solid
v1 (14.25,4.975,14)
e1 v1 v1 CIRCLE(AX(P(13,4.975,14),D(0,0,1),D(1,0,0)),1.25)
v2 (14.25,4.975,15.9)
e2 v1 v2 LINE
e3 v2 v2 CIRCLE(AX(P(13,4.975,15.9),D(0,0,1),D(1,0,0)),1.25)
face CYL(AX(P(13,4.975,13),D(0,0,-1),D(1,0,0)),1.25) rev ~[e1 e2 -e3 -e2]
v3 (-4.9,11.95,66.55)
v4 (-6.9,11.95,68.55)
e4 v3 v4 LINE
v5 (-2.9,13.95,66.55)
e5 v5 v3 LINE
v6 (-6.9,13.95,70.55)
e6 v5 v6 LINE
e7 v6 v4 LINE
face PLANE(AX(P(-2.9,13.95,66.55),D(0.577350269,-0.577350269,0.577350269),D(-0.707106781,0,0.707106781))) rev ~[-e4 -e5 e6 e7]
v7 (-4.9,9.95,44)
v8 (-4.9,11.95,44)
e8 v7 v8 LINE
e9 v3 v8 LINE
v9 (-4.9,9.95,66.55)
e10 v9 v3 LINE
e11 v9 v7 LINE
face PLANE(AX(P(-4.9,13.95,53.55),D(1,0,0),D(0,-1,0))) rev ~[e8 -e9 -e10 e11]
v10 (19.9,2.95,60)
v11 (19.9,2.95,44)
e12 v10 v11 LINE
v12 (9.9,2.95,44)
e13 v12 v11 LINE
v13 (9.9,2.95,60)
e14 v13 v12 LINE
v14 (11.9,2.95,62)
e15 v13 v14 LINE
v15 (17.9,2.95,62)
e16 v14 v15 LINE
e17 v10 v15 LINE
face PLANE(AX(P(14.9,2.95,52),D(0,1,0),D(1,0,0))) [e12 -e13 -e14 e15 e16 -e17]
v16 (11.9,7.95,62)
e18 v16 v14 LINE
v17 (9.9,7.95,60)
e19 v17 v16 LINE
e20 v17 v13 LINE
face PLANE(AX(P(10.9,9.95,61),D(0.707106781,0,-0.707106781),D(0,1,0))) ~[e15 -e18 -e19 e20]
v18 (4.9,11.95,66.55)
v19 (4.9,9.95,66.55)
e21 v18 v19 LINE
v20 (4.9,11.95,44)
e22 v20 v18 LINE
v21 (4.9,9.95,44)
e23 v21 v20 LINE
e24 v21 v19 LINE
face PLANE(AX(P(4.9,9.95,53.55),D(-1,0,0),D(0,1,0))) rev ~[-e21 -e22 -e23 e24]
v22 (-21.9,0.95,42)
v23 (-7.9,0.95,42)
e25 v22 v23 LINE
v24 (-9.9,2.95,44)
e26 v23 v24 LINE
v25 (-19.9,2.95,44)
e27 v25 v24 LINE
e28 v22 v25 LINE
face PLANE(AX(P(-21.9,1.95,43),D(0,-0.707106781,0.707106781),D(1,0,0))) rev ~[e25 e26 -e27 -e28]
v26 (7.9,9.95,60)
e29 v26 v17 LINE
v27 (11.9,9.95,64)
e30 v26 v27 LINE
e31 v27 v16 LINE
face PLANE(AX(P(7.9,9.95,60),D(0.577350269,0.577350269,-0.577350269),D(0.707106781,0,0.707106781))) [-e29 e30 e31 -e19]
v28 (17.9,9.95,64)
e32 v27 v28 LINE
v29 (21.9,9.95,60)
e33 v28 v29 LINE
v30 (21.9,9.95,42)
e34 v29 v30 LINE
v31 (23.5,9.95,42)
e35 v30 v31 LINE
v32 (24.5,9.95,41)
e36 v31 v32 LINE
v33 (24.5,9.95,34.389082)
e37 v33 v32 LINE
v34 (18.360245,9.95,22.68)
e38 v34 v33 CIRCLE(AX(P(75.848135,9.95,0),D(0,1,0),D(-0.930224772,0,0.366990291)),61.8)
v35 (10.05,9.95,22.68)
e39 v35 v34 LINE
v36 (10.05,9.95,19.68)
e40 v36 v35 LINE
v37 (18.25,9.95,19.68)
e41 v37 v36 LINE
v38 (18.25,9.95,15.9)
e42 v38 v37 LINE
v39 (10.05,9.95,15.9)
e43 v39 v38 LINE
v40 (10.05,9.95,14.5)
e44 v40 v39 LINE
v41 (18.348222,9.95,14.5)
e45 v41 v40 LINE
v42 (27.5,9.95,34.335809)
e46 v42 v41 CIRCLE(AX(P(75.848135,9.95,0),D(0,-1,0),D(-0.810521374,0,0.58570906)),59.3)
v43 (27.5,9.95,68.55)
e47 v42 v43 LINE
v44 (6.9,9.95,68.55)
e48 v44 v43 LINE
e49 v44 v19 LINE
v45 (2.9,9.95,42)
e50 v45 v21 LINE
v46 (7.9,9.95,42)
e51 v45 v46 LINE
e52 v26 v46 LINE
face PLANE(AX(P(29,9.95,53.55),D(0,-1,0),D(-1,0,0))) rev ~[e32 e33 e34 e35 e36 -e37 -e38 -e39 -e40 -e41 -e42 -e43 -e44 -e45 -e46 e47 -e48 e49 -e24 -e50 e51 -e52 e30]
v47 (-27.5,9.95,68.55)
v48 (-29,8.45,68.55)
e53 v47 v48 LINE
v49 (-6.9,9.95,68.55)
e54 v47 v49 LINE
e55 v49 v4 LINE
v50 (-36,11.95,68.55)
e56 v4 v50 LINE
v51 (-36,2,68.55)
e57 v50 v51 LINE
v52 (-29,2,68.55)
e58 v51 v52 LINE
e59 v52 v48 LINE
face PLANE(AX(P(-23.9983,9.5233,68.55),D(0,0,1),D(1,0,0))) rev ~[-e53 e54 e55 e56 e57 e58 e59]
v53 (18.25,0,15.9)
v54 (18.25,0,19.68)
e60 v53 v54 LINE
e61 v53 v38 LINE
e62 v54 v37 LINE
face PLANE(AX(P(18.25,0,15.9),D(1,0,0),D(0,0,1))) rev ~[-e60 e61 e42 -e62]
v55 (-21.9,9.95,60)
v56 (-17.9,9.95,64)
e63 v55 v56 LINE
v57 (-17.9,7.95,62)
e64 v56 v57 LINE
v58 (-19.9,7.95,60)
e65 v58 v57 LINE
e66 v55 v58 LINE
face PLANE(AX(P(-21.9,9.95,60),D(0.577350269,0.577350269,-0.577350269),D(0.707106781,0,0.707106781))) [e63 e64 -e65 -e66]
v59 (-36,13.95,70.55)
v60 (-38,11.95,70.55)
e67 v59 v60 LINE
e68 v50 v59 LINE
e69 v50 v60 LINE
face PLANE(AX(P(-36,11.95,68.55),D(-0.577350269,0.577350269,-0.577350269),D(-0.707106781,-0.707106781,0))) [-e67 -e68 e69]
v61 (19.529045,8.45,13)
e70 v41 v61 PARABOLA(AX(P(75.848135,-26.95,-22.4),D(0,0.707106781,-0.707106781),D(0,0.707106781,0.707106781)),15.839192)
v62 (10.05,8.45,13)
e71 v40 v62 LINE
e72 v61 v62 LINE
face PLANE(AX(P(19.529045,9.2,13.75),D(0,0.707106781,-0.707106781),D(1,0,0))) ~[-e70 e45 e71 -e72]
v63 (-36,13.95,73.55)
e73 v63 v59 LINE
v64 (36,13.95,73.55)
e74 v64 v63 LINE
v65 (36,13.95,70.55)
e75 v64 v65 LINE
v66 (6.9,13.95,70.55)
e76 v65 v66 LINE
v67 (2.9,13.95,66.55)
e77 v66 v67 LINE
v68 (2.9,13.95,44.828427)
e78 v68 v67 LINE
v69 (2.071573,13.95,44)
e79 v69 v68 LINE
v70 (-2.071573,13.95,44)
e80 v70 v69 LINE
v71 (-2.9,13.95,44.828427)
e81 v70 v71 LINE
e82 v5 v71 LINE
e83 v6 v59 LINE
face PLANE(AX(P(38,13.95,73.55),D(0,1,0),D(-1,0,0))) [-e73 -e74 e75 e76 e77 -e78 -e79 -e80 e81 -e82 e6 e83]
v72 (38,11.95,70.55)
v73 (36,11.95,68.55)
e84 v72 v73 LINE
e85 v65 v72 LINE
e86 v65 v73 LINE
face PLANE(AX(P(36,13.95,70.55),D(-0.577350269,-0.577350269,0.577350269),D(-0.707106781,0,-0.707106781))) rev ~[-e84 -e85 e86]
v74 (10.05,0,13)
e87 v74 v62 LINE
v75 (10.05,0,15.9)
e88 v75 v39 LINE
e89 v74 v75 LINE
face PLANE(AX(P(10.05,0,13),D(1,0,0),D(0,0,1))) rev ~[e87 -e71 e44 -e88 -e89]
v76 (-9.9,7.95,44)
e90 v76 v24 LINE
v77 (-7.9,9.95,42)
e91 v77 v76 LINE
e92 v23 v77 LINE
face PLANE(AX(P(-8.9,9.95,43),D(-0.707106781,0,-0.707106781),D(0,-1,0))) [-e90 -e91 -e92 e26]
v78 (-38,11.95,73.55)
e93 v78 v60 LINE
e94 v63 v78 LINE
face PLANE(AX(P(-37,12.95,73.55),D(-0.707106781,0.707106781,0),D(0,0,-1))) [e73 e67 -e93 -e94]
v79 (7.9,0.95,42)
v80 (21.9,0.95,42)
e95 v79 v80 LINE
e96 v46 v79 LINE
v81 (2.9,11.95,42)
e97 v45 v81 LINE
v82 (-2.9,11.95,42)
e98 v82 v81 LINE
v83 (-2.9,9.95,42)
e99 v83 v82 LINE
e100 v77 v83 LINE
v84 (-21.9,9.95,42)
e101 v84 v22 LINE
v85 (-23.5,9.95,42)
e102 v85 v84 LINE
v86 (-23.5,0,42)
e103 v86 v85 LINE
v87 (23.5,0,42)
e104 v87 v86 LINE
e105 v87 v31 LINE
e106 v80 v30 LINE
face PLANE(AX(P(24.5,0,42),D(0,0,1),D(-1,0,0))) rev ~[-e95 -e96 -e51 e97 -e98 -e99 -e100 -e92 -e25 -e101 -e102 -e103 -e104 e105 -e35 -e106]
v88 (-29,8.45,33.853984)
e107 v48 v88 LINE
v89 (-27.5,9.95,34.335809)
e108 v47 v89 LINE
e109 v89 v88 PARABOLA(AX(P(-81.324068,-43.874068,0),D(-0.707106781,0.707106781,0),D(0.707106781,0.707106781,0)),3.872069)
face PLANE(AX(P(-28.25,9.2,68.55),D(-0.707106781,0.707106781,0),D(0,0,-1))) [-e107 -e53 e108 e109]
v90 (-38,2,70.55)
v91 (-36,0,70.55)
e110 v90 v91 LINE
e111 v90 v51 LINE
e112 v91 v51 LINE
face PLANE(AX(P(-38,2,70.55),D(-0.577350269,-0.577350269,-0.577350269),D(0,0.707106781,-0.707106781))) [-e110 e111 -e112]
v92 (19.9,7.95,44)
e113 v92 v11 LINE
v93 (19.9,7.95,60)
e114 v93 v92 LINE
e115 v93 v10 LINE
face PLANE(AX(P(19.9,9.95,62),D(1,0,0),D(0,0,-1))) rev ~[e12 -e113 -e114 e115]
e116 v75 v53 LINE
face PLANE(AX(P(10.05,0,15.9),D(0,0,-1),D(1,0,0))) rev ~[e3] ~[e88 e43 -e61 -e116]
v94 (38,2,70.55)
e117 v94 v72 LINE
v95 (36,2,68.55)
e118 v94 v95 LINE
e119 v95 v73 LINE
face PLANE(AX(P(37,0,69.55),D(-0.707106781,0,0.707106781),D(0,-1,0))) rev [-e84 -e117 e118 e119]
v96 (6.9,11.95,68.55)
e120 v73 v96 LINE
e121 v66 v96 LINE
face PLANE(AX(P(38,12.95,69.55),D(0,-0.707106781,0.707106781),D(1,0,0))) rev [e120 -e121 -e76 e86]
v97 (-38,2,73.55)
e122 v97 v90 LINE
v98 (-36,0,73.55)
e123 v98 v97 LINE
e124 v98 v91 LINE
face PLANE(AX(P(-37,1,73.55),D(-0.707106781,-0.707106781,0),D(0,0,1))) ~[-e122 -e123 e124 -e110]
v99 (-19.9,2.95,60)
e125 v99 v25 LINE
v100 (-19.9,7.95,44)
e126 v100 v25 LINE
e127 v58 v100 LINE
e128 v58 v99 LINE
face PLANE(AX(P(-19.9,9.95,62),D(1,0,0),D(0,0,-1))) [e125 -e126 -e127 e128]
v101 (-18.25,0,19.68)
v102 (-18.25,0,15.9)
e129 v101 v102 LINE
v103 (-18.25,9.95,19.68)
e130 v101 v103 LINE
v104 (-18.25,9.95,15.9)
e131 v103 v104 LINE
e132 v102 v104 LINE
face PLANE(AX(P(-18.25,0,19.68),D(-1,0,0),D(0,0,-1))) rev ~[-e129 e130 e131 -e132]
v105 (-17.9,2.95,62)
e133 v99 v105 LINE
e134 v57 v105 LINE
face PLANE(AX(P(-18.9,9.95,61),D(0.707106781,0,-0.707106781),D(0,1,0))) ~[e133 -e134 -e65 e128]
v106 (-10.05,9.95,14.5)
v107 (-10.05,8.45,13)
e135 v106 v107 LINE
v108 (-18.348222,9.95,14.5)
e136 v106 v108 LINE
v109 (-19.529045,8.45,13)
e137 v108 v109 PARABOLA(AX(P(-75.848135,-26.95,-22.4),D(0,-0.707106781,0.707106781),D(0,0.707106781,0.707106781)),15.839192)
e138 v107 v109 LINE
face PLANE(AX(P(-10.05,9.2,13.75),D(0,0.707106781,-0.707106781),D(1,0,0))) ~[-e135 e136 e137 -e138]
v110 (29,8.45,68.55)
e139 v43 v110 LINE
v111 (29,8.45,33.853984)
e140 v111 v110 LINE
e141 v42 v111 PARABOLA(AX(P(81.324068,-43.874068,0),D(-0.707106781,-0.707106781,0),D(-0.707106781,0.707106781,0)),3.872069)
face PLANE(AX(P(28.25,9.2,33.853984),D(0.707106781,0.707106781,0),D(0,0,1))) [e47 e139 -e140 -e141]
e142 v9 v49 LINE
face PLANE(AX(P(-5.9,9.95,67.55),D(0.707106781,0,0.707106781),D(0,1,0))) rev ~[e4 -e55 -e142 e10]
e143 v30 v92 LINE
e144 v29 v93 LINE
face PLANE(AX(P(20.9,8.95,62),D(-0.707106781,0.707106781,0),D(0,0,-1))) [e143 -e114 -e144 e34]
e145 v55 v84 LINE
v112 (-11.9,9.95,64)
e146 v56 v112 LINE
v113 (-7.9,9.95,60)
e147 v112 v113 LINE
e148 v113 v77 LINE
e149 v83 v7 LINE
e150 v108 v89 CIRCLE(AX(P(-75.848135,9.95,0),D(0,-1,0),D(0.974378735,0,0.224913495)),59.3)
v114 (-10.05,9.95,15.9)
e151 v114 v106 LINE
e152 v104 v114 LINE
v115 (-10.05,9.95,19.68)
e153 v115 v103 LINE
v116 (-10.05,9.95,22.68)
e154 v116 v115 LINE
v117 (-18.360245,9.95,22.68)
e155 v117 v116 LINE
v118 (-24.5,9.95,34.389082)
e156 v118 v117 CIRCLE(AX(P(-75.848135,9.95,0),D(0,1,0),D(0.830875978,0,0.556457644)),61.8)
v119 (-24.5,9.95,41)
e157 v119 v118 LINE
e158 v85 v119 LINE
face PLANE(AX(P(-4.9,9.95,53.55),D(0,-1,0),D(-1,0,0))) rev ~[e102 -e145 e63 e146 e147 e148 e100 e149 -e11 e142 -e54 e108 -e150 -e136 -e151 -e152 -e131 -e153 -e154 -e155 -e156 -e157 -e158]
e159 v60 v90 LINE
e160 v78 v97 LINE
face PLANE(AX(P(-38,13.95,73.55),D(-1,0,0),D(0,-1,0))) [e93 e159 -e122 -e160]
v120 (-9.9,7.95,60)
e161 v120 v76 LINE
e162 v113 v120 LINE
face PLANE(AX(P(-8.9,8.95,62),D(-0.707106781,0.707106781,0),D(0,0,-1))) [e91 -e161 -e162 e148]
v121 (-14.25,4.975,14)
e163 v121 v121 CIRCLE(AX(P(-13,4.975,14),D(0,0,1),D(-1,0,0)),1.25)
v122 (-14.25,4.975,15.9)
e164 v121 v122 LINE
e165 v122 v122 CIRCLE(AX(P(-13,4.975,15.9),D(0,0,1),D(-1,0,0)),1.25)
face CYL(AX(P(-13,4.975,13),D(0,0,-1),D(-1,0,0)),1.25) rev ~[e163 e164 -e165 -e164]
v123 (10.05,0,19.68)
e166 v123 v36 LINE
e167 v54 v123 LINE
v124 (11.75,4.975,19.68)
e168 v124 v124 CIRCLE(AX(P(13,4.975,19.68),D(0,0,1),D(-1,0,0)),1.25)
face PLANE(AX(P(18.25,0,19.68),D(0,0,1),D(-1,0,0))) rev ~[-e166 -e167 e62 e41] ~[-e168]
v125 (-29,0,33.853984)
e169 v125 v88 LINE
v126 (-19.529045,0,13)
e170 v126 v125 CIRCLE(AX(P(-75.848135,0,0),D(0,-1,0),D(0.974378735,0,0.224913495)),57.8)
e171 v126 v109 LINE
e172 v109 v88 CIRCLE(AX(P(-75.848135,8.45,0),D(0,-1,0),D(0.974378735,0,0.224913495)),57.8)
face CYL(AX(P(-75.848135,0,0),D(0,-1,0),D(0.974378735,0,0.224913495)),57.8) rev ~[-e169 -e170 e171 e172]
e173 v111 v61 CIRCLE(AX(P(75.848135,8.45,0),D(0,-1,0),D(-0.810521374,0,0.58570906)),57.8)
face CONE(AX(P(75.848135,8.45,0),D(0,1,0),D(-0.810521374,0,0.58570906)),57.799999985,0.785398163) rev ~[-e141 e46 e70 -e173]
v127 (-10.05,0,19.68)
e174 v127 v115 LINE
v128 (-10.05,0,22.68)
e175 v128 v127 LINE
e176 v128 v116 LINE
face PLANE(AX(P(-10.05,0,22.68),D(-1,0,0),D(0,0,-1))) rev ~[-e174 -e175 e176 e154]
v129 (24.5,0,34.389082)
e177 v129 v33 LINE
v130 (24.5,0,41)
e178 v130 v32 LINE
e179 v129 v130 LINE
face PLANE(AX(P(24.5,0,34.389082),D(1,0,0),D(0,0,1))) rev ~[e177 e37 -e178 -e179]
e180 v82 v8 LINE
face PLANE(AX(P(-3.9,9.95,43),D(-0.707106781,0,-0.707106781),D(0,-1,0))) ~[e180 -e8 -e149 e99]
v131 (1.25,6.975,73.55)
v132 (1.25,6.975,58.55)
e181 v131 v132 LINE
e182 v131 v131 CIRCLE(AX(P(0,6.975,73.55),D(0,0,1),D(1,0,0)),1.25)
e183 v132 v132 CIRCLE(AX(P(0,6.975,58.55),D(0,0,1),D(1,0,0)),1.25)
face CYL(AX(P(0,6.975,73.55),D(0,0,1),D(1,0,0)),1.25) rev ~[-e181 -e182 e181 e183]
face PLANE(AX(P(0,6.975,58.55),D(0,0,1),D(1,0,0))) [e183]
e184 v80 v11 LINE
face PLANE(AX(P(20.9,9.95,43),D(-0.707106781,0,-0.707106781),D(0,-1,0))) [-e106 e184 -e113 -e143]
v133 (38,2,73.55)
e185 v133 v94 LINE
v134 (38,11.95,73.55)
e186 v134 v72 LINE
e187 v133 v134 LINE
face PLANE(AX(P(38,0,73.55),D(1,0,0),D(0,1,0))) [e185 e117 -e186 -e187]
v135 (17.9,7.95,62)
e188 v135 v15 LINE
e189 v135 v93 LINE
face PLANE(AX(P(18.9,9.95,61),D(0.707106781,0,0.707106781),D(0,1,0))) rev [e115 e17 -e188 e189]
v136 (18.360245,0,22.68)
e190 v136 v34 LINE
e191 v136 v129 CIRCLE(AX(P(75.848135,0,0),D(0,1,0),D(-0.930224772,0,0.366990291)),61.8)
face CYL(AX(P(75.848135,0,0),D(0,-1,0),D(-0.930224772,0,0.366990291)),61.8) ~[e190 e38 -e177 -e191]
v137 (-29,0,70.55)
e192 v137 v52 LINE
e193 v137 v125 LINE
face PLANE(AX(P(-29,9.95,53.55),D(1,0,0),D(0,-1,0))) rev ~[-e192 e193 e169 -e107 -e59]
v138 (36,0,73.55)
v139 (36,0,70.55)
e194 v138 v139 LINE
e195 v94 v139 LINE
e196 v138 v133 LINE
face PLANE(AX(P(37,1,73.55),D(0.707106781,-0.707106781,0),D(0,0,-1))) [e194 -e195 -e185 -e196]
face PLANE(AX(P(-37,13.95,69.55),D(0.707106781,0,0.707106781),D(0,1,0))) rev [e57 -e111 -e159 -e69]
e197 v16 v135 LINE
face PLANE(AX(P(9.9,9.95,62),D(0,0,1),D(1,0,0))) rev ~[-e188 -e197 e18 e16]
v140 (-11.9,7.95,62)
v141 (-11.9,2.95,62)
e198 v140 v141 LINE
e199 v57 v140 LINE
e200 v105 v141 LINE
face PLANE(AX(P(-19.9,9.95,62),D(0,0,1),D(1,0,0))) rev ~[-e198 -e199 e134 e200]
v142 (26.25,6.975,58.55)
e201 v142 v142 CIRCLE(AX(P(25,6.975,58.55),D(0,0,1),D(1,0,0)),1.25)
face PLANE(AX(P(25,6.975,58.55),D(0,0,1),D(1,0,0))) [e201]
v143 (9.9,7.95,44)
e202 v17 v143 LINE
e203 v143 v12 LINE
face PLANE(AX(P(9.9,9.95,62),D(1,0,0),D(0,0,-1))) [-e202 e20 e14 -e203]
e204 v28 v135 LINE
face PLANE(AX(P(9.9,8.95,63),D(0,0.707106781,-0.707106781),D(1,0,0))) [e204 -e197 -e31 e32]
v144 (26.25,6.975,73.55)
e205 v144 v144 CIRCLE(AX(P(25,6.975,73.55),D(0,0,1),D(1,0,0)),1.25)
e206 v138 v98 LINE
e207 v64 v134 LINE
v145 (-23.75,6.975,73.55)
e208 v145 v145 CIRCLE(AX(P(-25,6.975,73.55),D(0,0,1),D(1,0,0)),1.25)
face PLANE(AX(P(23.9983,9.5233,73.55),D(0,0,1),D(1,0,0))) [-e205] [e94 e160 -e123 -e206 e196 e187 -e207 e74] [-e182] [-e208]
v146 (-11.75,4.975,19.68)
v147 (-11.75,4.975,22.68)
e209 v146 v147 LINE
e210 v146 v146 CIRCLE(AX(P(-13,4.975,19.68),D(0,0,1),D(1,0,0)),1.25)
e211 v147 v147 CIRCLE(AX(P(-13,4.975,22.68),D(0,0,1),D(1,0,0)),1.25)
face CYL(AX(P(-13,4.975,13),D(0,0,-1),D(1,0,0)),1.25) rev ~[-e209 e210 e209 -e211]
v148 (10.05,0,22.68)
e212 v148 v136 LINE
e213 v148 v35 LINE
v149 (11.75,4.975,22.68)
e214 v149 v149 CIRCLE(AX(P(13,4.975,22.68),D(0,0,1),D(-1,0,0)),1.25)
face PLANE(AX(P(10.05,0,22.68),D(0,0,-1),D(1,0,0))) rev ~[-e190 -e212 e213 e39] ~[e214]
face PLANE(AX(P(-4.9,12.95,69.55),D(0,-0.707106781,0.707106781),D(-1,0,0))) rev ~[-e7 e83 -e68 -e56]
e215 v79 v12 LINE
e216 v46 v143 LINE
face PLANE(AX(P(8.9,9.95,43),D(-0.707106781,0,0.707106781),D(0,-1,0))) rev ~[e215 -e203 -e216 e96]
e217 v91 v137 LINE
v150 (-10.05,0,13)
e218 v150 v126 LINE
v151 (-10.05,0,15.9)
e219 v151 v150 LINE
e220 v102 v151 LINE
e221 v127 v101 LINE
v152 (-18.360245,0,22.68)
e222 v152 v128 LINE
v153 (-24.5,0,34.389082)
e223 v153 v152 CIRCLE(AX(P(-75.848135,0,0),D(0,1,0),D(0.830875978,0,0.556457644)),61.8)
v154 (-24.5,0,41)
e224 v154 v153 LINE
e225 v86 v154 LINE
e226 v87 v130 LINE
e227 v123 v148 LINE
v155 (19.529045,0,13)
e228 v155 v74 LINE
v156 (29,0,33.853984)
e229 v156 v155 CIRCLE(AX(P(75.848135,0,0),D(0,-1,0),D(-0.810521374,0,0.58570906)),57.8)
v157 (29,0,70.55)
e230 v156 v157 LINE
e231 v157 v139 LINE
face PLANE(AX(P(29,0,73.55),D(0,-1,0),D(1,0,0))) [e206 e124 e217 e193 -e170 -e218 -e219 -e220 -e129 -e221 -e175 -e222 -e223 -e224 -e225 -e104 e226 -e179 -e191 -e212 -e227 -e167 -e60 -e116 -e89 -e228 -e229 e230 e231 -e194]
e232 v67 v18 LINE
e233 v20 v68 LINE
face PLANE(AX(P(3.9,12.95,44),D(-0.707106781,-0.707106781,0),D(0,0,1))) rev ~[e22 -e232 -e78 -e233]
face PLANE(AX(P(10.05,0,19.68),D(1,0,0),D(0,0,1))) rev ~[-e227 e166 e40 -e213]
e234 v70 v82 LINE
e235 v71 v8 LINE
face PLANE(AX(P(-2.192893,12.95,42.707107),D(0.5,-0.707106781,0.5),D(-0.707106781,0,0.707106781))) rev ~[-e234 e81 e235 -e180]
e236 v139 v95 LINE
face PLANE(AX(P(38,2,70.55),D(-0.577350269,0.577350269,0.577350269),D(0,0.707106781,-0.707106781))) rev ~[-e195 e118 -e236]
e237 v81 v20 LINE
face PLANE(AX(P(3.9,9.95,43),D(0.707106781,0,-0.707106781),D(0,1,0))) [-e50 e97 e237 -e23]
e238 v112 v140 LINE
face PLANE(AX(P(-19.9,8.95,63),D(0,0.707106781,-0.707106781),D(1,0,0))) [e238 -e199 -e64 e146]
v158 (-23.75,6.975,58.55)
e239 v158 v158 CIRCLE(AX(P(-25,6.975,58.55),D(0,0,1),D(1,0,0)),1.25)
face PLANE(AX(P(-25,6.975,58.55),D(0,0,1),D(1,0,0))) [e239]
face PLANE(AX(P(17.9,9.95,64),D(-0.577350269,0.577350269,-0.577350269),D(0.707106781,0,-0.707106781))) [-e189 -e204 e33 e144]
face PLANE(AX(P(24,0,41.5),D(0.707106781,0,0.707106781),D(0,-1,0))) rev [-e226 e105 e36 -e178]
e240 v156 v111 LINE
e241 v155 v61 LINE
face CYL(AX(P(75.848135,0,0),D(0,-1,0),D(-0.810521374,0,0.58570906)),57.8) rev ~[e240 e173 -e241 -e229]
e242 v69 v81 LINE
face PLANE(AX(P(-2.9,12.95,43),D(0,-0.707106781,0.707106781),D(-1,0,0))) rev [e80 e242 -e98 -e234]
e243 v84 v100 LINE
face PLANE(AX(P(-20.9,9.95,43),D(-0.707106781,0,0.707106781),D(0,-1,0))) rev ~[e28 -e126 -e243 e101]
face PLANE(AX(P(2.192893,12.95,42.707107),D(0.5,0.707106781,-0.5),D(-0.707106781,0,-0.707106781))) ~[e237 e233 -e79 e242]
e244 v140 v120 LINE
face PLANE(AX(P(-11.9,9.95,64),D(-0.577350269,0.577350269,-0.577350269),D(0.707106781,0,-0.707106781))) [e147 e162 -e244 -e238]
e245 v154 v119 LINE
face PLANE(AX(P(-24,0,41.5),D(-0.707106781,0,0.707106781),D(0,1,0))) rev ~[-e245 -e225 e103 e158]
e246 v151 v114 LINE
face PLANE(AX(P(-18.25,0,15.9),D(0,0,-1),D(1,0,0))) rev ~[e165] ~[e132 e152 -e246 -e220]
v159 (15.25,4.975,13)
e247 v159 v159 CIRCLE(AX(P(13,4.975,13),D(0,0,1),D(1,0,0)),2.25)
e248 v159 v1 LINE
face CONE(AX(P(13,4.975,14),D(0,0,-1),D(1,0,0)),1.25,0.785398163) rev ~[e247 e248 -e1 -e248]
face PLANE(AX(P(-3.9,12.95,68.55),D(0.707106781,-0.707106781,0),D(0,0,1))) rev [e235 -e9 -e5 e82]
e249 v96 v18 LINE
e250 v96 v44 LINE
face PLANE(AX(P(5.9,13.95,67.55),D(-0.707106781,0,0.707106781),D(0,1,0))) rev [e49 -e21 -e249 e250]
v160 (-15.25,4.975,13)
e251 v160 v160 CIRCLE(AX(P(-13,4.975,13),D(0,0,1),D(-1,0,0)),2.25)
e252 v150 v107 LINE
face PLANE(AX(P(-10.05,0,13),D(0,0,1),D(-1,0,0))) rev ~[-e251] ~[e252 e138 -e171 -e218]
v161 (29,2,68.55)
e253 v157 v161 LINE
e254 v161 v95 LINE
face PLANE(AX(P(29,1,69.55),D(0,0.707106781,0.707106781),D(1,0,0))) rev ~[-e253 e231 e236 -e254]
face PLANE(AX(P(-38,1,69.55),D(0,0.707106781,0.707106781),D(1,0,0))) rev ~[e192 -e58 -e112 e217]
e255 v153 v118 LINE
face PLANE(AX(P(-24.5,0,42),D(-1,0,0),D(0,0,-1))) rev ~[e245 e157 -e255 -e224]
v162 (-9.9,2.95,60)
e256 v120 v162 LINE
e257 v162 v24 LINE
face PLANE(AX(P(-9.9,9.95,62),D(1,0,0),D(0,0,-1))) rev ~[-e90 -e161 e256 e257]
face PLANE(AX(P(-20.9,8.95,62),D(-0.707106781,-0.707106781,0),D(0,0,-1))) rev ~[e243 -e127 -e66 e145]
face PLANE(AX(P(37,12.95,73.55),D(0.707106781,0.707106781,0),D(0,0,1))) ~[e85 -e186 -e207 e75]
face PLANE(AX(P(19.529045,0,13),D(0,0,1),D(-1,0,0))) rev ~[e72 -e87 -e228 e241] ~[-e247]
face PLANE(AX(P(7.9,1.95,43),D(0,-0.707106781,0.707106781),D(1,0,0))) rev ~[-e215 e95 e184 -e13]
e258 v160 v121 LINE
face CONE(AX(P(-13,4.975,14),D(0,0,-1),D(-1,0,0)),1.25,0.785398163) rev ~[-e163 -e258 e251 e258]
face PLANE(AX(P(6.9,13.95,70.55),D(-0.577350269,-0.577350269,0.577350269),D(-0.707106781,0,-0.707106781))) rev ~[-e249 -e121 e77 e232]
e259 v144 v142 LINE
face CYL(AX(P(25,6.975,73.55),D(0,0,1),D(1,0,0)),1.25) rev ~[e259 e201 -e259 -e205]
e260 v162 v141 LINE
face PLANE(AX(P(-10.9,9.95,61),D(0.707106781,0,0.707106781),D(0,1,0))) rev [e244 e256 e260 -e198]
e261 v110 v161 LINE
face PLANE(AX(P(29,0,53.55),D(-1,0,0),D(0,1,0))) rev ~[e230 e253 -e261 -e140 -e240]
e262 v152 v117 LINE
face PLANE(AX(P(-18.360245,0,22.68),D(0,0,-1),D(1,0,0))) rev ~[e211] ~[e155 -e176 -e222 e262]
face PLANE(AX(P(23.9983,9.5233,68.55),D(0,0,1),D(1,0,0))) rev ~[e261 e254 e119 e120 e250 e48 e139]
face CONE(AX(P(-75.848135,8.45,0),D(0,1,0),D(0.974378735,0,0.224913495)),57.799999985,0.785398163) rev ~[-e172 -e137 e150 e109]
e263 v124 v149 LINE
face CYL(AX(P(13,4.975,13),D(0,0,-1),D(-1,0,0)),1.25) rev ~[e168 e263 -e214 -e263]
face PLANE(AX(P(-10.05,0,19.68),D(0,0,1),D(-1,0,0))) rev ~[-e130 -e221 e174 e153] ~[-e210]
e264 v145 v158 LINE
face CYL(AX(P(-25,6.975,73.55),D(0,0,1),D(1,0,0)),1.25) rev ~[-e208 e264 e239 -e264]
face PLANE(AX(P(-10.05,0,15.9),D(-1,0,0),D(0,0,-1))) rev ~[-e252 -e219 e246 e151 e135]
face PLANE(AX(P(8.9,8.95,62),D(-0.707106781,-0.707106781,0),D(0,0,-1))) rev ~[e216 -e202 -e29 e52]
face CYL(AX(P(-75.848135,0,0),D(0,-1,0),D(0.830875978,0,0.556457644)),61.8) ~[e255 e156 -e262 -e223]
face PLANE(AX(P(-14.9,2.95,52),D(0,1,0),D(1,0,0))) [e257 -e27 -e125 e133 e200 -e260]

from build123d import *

# Parameters (mm, degrees)
BOSS_EXTRUDE1_DEPTH = 9.95
SKETCH2_W           = 58
SKETCH2_H           = 9.95
BOSS_EXTRUDE2_DEPTH = 8.55
SKETCH3_W           = 9.8
SKETCH3_H           = 11.55
BOSS_EXTRUDE3_DEPTH = 4
BOSS_EXTRUDE4_DEPTH = 20
CHAMFER1_SIZE       = 2
CUT_EXTRUDE1_REACH  = 70.57
CHAMFER2_SIZE       = 1
BOSS_EXTRUDE5_DEPTH = 5
CHAMFER3_SIZE       = 2
SKETCH7_W           = 10
SKETCH7_H           = 20
CUT_EXTRUDE2_DEPTH  = 7
CHAMFER4_SIZE       = 2
CHAMFER5_SIZE       = 1
SKETCH8_R           = 1.25
CUT_EXTRUDE3_DEPTH  = 15
CHAMFER6_SIZE       = 1.5
CHAMFER7_SIZE       = 2


with BuildPart() as part:
    # Sketch1 → Boss-Extrude1 (new body)
    with BuildSketch(Plane(origin=(0, 0, 0), x_dir=(1, 0, 0), z_dir=(0, 1, 0))):
        with BuildLine():
            Line((-10.05, -13), (-19.52904451, -13))
            ThreePointArc((-19.52904451, -13), (-23.22122875, -23.900809511), (-29, -33.853983643))
            Line((-29, -33.853983643), (-29, -45))
            Line((-29, -45), (29, -45))
            Line((29, -45), (29, -33.853983643))
            ThreePointArc((29, -33.853983643), (23.22122875, -23.900809511), (19.52904451, -13))
            Line((19.52904451, -13), (10.05, -13))
            Line((10.05, -13), (10.05, -15.9))
            Line((10.05, -15.9), (18.25, -15.9))
            Line((18.25, -15.9), (18.25, -19.68))
            Line((18.25, -19.68), (10.05, -19.68))
            Line((10.05, -19.68), (10.05, -22.68))
            Line((10.05, -22.68), (18.360244512, -22.68))
            ThreePointArc((18.360244512, -22.68), (21.116099011, -28.699201931), (24.5, -34.389082421))
            Line((24.5, -34.389082421), (24.5, -42))
            Line((24.5, -42), (-24.5, -42))
            Line((-24.5, -42), (-24.5, -34.389082421))
            ThreePointArc((-24.5, -34.389082421), (-21.116099011, -28.699201931), (-18.360244512, -22.68))
            Line((-18.360244512, -22.68), (-10.05, -22.68))
            Line((-10.05, -22.68), (-10.05, -19.68))
            Line((-10.05, -19.68), (-18.25, -19.68))
            Line((-18.25, -19.68), (-18.25, -15.9))
            Line((-18.25, -15.9), (-10.05, -15.9))
            Line((-10.05, -15.9), (-10.05, -13))
        make_face()
    extrude(amount=BOSS_EXTRUDE1_DEPTH)

    # Sketch2 → Boss-Extrude2 (add)
    with BuildSketch(Plane.XY.offset(45)):
        with Locations((0, 4.975)):
            Rectangle(SKETCH2_W, SKETCH2_H)
    extrude(amount=BOSS_EXTRUDE2_DEPTH)

    # Sketch3 → Boss-Extrude3 (add)
    with BuildSketch(Plane(origin=(0, 9.95, 0), x_dir=(1, 0, 0), z_dir=(0, 1, 0))):
        with Locations((0, -47.775)):
            Rectangle(SKETCH3_W, SKETCH3_H)
    extrude(amount=BOSS_EXTRUDE3_DEPTH)

    # Sketch4 → Boss-Extrude4 (add)
    with BuildSketch(Plane.XY.offset(53.55)):
        Polygon((-29, 9.95), (-29, 0), (29, 0), (29, 9.95), (4.9, 9.95), (4.9, 13.95), (-4.9, 13.95), (-4.9, 9.95), align=None)
    extrude(amount=BOSS_EXTRUDE4_DEPTH)

    # Chamfer1
    chamfer1_edges = [part.edges().sort_by_distance(p)[0] for p in [
        (4.9, 11.95, 42),
        (-4.9, 11.95, 42),
    ]]
    chamfer(chamfer1_edges, length=CHAMFER1_SIZE)

    # Cut-Extrude1: up to this face of the body (flat: up to its plane)
    cut_extrude1_end = Plane(part.part.faces().sort_by_distance((14.205122256, 4.975, 22.68))[0])
    # Sketch5 → Cut-Extrude1 (cut, up to the picked face)
    with BuildSketch(Plane(origin=(0, 0, 13), x_dir=(-1, 0, 0), z_dir=(0, 0, -1)), mode=Mode.PRIVATE) as cut_extrude1_sk1:
        with BuildLine():
            ThreePointArc((-14.25, 4.975), (-13, 3.725), (-11.75, 4.975))
            Line((-11.75, 4.975), (-14.25, 4.975))
        make_face()
    cut_extrude1_tool1 = split(extrude(cut_extrude1_sk1.sketch, amount=-CUT_EXTRUDE1_REACH, mode=Mode.PRIVATE), bisect_by=cut_extrude1_end, keep=Keep.BOTH, mode=Mode.PRIVATE)
    # Sketch5 → Cut-Extrude1 (cut, up to the picked face)
    with BuildSketch(Plane(origin=(0, 0, 13), x_dir=(-1, 0, 0), z_dir=(0, 0, -1)), mode=Mode.PRIVATE) as cut_extrude1_sk2:
        with BuildLine():
            Line((-14.25, 4.975), (-11.75, 4.975))
            ThreePointArc((-11.75, 4.975), (-13, 6.225), (-14.25, 4.975))
        make_face()
    cut_extrude1_tool2 = split(extrude(cut_extrude1_sk2.sketch, amount=-CUT_EXTRUDE1_REACH, mode=Mode.PRIVATE), bisect_by=cut_extrude1_end, keep=Keep.BOTH, mode=Mode.PRIVATE)
    # Sketch5 → Cut-Extrude1 (cut, up to the picked face)
    with BuildSketch(Plane(origin=(0, 0, 13), x_dir=(-1, 0, 0), z_dir=(0, 0, -1)), mode=Mode.PRIVATE) as cut_extrude1_sk3:
        with BuildLine():
            ThreePointArc((-14.25, 4.975), (-13, 3.725), (-11.75, 4.975))
            Line((-11.75, 4.975), (-14.25, 4.975))
        make_face()
    cut_extrude1_tool3 = split(extrude(cut_extrude1_sk3.sketch, amount=-CUT_EXTRUDE1_REACH, mode=Mode.PRIVATE), bisect_by=cut_extrude1_end, keep=Keep.BOTH, mode=Mode.PRIVATE)
    # Sketch5 → Cut-Extrude1 (cut, up to the picked face)
    with BuildSketch(Plane(origin=(0, 0, 13), x_dir=(-1, 0, 0), z_dir=(0, 0, -1)), mode=Mode.PRIVATE) as cut_extrude1_sk4:
        with BuildLine():
            Line((-14.25, 4.975), (-11.75, 4.975))
            ThreePointArc((-11.75, 4.975), (-13, 6.225), (-14.25, 4.975))
        make_face()
    cut_extrude1_tool4 = split(extrude(cut_extrude1_sk4.sketch, amount=-CUT_EXTRUDE1_REACH, mode=Mode.PRIVATE), bisect_by=cut_extrude1_end, keep=Keep.BOTH, mode=Mode.PRIVATE)
    # Sketch5 → Cut-Extrude1 (cut, up to the picked face)
    with BuildSketch(Plane(origin=(0, 0, 13), x_dir=(-1, 0, 0), z_dir=(0, 0, -1)), mode=Mode.PRIVATE) as cut_extrude1_sk5:
        with BuildLine():
            ThreePointArc((14.25, 4.975), (13, 6.225), (11.75, 4.975))
            Line((11.75, 4.975), (14.25, 4.975))
        make_face()
    cut_extrude1_tool5 = split(extrude(cut_extrude1_sk5.sketch, amount=-CUT_EXTRUDE1_REACH, mode=Mode.PRIVATE), bisect_by=cut_extrude1_end, keep=Keep.BOTH, mode=Mode.PRIVATE)
    # Sketch5 → Cut-Extrude1 (cut, up to the picked face)
    with BuildSketch(Plane(origin=(0, 0, 13), x_dir=(-1, 0, 0), z_dir=(0, 0, -1)), mode=Mode.PRIVATE) as cut_extrude1_sk6:
        with BuildLine():
            Line((14.25, 4.975), (11.75, 4.975))
            ThreePointArc((11.75, 4.975), (13, 3.725), (14.25, 4.975))
        make_face()
    cut_extrude1_tool6 = split(extrude(cut_extrude1_sk6.sketch, amount=-CUT_EXTRUDE1_REACH, mode=Mode.PRIVATE), bisect_by=cut_extrude1_end, keep=Keep.BOTH, mode=Mode.PRIVATE)
    # Sketch5 → Cut-Extrude1 (cut, up to the picked face)
    with BuildSketch(Plane(origin=(0, 0, 13), x_dir=(-1, 0, 0), z_dir=(0, 0, -1)), mode=Mode.PRIVATE) as cut_extrude1_sk7:
        with BuildLine():
            ThreePointArc((14.25, 4.975), (13, 6.225), (11.75, 4.975))
            Line((11.75, 4.975), (14.25, 4.975))
        make_face()
    cut_extrude1_tool7 = split(extrude(cut_extrude1_sk7.sketch, amount=-CUT_EXTRUDE1_REACH, mode=Mode.PRIVATE), bisect_by=cut_extrude1_end, keep=Keep.BOTH, mode=Mode.PRIVATE)
    # Sketch5 → Cut-Extrude1 (cut, up to the picked face)
    with BuildSketch(Plane(origin=(0, 0, 13), x_dir=(-1, 0, 0), z_dir=(0, 0, -1)), mode=Mode.PRIVATE) as cut_extrude1_sk8:
        with BuildLine():
            Line((14.25, 4.975), (11.75, 4.975))
            ThreePointArc((11.75, 4.975), (13, 3.725), (14.25, 4.975))
        make_face()
    cut_extrude1_tool8 = split(extrude(cut_extrude1_sk8.sketch, amount=-CUT_EXTRUDE1_REACH, mode=Mode.PRIVATE), bisect_by=cut_extrude1_end, keep=Keep.BOTH, mode=Mode.PRIVATE)
    add(cut_extrude1_tool1.solids().sort_by(Axis((13, 4.444484, 13), (0, 0, 1)))[0], mode=Mode.SUBTRACT)
    add(cut_extrude1_tool2.solids().sort_by(Axis((13, 5.505516, 13), (0, 0, 1)))[0], mode=Mode.SUBTRACT)
    add(cut_extrude1_tool3.solids().sort_by(Axis((13, 4.444484, 13), (0, 0, 1)))[0], mode=Mode.SUBTRACT)
    add(cut_extrude1_tool4.solids().sort_by(Axis((13, 5.505516, 13), (0, 0, 1)))[0], mode=Mode.SUBTRACT)
    add(cut_extrude1_tool5.solids().sort_by(Axis((-13, 5.505516, 13), (0, 0, 1)))[0], mode=Mode.SUBTRACT)
    add(cut_extrude1_tool6.solids().sort_by(Axis((-13, 4.444484, 13), (0, 0, 1)))[0], mode=Mode.SUBTRACT)
    add(cut_extrude1_tool7.solids().sort_by(Axis((-13, 5.505516, 13), (0, 0, 1)))[0], mode=Mode.SUBTRACT)
    add(cut_extrude1_tool8.solids().sort_by(Axis((-13, 4.444484, 13), (0, 0, 1)))[0], mode=Mode.SUBTRACT)

    # Chamfer2
    chamfer2_edges = [part.edges().sort_by_distance(p)[0] for p in [
        (11.75, 4.975, 13),
        (-11.75, 4.975, 13),
    ]]
    chamfer(chamfer2_edges, length=CHAMFER2_SIZE)

    # Sketch6 → Boss-Extrude5 (add)
    with BuildSketch(Plane.XY.offset(73.55)):
        Polygon((29, 9.95), (29, 0), (38, 0), (38, 13.95), (4.9, 13.95), (4.9, 9.95), align=None)
        Polygon((-38, 13.95), (-38, 0), (-29, 0), (-29, 9.95), (-4.9, 9.95), (-4.9, 13.95), align=None)
    extrude(amount=-BOSS_EXTRUDE5_DEPTH)

    # Chamfer3
    chamfer3_edges = [part.edges().sort_by_distance(p)[0] for p in [
        (0, 13.95, 42),
        (3.9, 13.95, 43),
        (-3.9, 13.95, 43),
        (4.9, 13.95, 56.275),
        (33.5, 0, 68.55),
        (38, 0, 71.05),
        (38, 6.975, 68.55),
        (38, 13.95, 71.05),
        (4.9, 11.95, 68.55),
        (21.45, 13.95, 68.55),
        (-4.9, 13.95, 56.275),
        (-38, 13.95, 71.05),
        (-33.5, 0, 68.55),
        (-38, 0, 71.05),
        (-21.45, 13.95, 68.55),
        (-4.9, 11.95, 68.55),
        (-38, 6.975, 68.55),
    ]]
    chamfer(chamfer3_edges, length=CHAMFER3_SIZE)

    # Sketch7 → Cut-Extrude2 (cut)
    with BuildSketch(Plane(origin=(0, 9.95, 0), x_dir=(1, 0, 0), z_dir=(0, 1, 0))):
        with Locations((-14.9, -52)):
            Rectangle(SKETCH7_W, SKETCH7_H)
        with Locations((14.9, -52)):
            Rectangle(SKETCH7_W, SKETCH7_H)
    extrude(amount=-CUT_EXTRUDE2_DEPTH, mode=Mode.SUBTRACT)

    # Chamfer4
    chamfer4_edges = [part.edges().sort_by_distance(p)[0] for p in [
        (-9.9, 9.95, 52),
        (-9.9, 6.45, 42),
        (-9.9, 6.45, 62),
        (-19.9, 6.45, 62),
        (-19.9, 6.45, 42),
        (-19.9, 9.95, 52),
        (-14.9, 9.95, 62),
        (19.9, 9.95, 52),
        (19.9, 6.45, 42),
        (19.9, 6.45, 62),
        (9.9, 6.45, 62),
        (9.9, 6.45, 42),
        (9.9, 9.95, 52),
        (14.9, 9.95, 62),
    ]]
    chamfer(chamfer4_edges, length=CHAMFER4_SIZE)

    # Chamfer5
    chamfer5_edges = [part.edges().sort_by_distance(p)[0] for p in [
        (-24.5, 4.975, 42),
        (24.5, 4.975, 42),
    ]]
    chamfer(chamfer5_edges, length=CHAMFER5_SIZE)

    # Sketch8 → Cut-Extrude3 (cut)
    with BuildSketch(Plane.XY.offset(73.55)):
        with Locations((-25, 6.975)):
            Circle(SKETCH8_R)
        with Locations((25, 6.975)):
            Circle(SKETCH8_R)
        with Locations((0, 6.975)):
            Circle(SKETCH8_R)
    extrude(amount=-CUT_EXTRUDE3_DEPTH, mode=Mode.SUBTRACT)

    # Chamfer6
    chamfer6_edges = [part.edges().sort_by_distance(p)[0] for p in [
        (-29, 9.95, 51.201991821),
        (-14.789522255, 9.95, 13),
        (-23.22122875, 9.95, 23.900809511),
        (29, 9.95, 51.201991821),
        (23.22122875, 9.95, 23.900809511),
        (14.789522255, 9.95, 13),
    ]]
    chamfer(chamfer6_edges, length=CHAMFER6_SIZE)

    # Chamfer7
    chamfer7_edges = [part.edges().sort_by_distance(p)[0] for p in [
        (-14.9, 2.95, 42),
        (14.9, 2.95, 42),
    ]]
    chamfer(chamfer7_edges, length=CHAMFER7_SIZE)


solid = part.part
